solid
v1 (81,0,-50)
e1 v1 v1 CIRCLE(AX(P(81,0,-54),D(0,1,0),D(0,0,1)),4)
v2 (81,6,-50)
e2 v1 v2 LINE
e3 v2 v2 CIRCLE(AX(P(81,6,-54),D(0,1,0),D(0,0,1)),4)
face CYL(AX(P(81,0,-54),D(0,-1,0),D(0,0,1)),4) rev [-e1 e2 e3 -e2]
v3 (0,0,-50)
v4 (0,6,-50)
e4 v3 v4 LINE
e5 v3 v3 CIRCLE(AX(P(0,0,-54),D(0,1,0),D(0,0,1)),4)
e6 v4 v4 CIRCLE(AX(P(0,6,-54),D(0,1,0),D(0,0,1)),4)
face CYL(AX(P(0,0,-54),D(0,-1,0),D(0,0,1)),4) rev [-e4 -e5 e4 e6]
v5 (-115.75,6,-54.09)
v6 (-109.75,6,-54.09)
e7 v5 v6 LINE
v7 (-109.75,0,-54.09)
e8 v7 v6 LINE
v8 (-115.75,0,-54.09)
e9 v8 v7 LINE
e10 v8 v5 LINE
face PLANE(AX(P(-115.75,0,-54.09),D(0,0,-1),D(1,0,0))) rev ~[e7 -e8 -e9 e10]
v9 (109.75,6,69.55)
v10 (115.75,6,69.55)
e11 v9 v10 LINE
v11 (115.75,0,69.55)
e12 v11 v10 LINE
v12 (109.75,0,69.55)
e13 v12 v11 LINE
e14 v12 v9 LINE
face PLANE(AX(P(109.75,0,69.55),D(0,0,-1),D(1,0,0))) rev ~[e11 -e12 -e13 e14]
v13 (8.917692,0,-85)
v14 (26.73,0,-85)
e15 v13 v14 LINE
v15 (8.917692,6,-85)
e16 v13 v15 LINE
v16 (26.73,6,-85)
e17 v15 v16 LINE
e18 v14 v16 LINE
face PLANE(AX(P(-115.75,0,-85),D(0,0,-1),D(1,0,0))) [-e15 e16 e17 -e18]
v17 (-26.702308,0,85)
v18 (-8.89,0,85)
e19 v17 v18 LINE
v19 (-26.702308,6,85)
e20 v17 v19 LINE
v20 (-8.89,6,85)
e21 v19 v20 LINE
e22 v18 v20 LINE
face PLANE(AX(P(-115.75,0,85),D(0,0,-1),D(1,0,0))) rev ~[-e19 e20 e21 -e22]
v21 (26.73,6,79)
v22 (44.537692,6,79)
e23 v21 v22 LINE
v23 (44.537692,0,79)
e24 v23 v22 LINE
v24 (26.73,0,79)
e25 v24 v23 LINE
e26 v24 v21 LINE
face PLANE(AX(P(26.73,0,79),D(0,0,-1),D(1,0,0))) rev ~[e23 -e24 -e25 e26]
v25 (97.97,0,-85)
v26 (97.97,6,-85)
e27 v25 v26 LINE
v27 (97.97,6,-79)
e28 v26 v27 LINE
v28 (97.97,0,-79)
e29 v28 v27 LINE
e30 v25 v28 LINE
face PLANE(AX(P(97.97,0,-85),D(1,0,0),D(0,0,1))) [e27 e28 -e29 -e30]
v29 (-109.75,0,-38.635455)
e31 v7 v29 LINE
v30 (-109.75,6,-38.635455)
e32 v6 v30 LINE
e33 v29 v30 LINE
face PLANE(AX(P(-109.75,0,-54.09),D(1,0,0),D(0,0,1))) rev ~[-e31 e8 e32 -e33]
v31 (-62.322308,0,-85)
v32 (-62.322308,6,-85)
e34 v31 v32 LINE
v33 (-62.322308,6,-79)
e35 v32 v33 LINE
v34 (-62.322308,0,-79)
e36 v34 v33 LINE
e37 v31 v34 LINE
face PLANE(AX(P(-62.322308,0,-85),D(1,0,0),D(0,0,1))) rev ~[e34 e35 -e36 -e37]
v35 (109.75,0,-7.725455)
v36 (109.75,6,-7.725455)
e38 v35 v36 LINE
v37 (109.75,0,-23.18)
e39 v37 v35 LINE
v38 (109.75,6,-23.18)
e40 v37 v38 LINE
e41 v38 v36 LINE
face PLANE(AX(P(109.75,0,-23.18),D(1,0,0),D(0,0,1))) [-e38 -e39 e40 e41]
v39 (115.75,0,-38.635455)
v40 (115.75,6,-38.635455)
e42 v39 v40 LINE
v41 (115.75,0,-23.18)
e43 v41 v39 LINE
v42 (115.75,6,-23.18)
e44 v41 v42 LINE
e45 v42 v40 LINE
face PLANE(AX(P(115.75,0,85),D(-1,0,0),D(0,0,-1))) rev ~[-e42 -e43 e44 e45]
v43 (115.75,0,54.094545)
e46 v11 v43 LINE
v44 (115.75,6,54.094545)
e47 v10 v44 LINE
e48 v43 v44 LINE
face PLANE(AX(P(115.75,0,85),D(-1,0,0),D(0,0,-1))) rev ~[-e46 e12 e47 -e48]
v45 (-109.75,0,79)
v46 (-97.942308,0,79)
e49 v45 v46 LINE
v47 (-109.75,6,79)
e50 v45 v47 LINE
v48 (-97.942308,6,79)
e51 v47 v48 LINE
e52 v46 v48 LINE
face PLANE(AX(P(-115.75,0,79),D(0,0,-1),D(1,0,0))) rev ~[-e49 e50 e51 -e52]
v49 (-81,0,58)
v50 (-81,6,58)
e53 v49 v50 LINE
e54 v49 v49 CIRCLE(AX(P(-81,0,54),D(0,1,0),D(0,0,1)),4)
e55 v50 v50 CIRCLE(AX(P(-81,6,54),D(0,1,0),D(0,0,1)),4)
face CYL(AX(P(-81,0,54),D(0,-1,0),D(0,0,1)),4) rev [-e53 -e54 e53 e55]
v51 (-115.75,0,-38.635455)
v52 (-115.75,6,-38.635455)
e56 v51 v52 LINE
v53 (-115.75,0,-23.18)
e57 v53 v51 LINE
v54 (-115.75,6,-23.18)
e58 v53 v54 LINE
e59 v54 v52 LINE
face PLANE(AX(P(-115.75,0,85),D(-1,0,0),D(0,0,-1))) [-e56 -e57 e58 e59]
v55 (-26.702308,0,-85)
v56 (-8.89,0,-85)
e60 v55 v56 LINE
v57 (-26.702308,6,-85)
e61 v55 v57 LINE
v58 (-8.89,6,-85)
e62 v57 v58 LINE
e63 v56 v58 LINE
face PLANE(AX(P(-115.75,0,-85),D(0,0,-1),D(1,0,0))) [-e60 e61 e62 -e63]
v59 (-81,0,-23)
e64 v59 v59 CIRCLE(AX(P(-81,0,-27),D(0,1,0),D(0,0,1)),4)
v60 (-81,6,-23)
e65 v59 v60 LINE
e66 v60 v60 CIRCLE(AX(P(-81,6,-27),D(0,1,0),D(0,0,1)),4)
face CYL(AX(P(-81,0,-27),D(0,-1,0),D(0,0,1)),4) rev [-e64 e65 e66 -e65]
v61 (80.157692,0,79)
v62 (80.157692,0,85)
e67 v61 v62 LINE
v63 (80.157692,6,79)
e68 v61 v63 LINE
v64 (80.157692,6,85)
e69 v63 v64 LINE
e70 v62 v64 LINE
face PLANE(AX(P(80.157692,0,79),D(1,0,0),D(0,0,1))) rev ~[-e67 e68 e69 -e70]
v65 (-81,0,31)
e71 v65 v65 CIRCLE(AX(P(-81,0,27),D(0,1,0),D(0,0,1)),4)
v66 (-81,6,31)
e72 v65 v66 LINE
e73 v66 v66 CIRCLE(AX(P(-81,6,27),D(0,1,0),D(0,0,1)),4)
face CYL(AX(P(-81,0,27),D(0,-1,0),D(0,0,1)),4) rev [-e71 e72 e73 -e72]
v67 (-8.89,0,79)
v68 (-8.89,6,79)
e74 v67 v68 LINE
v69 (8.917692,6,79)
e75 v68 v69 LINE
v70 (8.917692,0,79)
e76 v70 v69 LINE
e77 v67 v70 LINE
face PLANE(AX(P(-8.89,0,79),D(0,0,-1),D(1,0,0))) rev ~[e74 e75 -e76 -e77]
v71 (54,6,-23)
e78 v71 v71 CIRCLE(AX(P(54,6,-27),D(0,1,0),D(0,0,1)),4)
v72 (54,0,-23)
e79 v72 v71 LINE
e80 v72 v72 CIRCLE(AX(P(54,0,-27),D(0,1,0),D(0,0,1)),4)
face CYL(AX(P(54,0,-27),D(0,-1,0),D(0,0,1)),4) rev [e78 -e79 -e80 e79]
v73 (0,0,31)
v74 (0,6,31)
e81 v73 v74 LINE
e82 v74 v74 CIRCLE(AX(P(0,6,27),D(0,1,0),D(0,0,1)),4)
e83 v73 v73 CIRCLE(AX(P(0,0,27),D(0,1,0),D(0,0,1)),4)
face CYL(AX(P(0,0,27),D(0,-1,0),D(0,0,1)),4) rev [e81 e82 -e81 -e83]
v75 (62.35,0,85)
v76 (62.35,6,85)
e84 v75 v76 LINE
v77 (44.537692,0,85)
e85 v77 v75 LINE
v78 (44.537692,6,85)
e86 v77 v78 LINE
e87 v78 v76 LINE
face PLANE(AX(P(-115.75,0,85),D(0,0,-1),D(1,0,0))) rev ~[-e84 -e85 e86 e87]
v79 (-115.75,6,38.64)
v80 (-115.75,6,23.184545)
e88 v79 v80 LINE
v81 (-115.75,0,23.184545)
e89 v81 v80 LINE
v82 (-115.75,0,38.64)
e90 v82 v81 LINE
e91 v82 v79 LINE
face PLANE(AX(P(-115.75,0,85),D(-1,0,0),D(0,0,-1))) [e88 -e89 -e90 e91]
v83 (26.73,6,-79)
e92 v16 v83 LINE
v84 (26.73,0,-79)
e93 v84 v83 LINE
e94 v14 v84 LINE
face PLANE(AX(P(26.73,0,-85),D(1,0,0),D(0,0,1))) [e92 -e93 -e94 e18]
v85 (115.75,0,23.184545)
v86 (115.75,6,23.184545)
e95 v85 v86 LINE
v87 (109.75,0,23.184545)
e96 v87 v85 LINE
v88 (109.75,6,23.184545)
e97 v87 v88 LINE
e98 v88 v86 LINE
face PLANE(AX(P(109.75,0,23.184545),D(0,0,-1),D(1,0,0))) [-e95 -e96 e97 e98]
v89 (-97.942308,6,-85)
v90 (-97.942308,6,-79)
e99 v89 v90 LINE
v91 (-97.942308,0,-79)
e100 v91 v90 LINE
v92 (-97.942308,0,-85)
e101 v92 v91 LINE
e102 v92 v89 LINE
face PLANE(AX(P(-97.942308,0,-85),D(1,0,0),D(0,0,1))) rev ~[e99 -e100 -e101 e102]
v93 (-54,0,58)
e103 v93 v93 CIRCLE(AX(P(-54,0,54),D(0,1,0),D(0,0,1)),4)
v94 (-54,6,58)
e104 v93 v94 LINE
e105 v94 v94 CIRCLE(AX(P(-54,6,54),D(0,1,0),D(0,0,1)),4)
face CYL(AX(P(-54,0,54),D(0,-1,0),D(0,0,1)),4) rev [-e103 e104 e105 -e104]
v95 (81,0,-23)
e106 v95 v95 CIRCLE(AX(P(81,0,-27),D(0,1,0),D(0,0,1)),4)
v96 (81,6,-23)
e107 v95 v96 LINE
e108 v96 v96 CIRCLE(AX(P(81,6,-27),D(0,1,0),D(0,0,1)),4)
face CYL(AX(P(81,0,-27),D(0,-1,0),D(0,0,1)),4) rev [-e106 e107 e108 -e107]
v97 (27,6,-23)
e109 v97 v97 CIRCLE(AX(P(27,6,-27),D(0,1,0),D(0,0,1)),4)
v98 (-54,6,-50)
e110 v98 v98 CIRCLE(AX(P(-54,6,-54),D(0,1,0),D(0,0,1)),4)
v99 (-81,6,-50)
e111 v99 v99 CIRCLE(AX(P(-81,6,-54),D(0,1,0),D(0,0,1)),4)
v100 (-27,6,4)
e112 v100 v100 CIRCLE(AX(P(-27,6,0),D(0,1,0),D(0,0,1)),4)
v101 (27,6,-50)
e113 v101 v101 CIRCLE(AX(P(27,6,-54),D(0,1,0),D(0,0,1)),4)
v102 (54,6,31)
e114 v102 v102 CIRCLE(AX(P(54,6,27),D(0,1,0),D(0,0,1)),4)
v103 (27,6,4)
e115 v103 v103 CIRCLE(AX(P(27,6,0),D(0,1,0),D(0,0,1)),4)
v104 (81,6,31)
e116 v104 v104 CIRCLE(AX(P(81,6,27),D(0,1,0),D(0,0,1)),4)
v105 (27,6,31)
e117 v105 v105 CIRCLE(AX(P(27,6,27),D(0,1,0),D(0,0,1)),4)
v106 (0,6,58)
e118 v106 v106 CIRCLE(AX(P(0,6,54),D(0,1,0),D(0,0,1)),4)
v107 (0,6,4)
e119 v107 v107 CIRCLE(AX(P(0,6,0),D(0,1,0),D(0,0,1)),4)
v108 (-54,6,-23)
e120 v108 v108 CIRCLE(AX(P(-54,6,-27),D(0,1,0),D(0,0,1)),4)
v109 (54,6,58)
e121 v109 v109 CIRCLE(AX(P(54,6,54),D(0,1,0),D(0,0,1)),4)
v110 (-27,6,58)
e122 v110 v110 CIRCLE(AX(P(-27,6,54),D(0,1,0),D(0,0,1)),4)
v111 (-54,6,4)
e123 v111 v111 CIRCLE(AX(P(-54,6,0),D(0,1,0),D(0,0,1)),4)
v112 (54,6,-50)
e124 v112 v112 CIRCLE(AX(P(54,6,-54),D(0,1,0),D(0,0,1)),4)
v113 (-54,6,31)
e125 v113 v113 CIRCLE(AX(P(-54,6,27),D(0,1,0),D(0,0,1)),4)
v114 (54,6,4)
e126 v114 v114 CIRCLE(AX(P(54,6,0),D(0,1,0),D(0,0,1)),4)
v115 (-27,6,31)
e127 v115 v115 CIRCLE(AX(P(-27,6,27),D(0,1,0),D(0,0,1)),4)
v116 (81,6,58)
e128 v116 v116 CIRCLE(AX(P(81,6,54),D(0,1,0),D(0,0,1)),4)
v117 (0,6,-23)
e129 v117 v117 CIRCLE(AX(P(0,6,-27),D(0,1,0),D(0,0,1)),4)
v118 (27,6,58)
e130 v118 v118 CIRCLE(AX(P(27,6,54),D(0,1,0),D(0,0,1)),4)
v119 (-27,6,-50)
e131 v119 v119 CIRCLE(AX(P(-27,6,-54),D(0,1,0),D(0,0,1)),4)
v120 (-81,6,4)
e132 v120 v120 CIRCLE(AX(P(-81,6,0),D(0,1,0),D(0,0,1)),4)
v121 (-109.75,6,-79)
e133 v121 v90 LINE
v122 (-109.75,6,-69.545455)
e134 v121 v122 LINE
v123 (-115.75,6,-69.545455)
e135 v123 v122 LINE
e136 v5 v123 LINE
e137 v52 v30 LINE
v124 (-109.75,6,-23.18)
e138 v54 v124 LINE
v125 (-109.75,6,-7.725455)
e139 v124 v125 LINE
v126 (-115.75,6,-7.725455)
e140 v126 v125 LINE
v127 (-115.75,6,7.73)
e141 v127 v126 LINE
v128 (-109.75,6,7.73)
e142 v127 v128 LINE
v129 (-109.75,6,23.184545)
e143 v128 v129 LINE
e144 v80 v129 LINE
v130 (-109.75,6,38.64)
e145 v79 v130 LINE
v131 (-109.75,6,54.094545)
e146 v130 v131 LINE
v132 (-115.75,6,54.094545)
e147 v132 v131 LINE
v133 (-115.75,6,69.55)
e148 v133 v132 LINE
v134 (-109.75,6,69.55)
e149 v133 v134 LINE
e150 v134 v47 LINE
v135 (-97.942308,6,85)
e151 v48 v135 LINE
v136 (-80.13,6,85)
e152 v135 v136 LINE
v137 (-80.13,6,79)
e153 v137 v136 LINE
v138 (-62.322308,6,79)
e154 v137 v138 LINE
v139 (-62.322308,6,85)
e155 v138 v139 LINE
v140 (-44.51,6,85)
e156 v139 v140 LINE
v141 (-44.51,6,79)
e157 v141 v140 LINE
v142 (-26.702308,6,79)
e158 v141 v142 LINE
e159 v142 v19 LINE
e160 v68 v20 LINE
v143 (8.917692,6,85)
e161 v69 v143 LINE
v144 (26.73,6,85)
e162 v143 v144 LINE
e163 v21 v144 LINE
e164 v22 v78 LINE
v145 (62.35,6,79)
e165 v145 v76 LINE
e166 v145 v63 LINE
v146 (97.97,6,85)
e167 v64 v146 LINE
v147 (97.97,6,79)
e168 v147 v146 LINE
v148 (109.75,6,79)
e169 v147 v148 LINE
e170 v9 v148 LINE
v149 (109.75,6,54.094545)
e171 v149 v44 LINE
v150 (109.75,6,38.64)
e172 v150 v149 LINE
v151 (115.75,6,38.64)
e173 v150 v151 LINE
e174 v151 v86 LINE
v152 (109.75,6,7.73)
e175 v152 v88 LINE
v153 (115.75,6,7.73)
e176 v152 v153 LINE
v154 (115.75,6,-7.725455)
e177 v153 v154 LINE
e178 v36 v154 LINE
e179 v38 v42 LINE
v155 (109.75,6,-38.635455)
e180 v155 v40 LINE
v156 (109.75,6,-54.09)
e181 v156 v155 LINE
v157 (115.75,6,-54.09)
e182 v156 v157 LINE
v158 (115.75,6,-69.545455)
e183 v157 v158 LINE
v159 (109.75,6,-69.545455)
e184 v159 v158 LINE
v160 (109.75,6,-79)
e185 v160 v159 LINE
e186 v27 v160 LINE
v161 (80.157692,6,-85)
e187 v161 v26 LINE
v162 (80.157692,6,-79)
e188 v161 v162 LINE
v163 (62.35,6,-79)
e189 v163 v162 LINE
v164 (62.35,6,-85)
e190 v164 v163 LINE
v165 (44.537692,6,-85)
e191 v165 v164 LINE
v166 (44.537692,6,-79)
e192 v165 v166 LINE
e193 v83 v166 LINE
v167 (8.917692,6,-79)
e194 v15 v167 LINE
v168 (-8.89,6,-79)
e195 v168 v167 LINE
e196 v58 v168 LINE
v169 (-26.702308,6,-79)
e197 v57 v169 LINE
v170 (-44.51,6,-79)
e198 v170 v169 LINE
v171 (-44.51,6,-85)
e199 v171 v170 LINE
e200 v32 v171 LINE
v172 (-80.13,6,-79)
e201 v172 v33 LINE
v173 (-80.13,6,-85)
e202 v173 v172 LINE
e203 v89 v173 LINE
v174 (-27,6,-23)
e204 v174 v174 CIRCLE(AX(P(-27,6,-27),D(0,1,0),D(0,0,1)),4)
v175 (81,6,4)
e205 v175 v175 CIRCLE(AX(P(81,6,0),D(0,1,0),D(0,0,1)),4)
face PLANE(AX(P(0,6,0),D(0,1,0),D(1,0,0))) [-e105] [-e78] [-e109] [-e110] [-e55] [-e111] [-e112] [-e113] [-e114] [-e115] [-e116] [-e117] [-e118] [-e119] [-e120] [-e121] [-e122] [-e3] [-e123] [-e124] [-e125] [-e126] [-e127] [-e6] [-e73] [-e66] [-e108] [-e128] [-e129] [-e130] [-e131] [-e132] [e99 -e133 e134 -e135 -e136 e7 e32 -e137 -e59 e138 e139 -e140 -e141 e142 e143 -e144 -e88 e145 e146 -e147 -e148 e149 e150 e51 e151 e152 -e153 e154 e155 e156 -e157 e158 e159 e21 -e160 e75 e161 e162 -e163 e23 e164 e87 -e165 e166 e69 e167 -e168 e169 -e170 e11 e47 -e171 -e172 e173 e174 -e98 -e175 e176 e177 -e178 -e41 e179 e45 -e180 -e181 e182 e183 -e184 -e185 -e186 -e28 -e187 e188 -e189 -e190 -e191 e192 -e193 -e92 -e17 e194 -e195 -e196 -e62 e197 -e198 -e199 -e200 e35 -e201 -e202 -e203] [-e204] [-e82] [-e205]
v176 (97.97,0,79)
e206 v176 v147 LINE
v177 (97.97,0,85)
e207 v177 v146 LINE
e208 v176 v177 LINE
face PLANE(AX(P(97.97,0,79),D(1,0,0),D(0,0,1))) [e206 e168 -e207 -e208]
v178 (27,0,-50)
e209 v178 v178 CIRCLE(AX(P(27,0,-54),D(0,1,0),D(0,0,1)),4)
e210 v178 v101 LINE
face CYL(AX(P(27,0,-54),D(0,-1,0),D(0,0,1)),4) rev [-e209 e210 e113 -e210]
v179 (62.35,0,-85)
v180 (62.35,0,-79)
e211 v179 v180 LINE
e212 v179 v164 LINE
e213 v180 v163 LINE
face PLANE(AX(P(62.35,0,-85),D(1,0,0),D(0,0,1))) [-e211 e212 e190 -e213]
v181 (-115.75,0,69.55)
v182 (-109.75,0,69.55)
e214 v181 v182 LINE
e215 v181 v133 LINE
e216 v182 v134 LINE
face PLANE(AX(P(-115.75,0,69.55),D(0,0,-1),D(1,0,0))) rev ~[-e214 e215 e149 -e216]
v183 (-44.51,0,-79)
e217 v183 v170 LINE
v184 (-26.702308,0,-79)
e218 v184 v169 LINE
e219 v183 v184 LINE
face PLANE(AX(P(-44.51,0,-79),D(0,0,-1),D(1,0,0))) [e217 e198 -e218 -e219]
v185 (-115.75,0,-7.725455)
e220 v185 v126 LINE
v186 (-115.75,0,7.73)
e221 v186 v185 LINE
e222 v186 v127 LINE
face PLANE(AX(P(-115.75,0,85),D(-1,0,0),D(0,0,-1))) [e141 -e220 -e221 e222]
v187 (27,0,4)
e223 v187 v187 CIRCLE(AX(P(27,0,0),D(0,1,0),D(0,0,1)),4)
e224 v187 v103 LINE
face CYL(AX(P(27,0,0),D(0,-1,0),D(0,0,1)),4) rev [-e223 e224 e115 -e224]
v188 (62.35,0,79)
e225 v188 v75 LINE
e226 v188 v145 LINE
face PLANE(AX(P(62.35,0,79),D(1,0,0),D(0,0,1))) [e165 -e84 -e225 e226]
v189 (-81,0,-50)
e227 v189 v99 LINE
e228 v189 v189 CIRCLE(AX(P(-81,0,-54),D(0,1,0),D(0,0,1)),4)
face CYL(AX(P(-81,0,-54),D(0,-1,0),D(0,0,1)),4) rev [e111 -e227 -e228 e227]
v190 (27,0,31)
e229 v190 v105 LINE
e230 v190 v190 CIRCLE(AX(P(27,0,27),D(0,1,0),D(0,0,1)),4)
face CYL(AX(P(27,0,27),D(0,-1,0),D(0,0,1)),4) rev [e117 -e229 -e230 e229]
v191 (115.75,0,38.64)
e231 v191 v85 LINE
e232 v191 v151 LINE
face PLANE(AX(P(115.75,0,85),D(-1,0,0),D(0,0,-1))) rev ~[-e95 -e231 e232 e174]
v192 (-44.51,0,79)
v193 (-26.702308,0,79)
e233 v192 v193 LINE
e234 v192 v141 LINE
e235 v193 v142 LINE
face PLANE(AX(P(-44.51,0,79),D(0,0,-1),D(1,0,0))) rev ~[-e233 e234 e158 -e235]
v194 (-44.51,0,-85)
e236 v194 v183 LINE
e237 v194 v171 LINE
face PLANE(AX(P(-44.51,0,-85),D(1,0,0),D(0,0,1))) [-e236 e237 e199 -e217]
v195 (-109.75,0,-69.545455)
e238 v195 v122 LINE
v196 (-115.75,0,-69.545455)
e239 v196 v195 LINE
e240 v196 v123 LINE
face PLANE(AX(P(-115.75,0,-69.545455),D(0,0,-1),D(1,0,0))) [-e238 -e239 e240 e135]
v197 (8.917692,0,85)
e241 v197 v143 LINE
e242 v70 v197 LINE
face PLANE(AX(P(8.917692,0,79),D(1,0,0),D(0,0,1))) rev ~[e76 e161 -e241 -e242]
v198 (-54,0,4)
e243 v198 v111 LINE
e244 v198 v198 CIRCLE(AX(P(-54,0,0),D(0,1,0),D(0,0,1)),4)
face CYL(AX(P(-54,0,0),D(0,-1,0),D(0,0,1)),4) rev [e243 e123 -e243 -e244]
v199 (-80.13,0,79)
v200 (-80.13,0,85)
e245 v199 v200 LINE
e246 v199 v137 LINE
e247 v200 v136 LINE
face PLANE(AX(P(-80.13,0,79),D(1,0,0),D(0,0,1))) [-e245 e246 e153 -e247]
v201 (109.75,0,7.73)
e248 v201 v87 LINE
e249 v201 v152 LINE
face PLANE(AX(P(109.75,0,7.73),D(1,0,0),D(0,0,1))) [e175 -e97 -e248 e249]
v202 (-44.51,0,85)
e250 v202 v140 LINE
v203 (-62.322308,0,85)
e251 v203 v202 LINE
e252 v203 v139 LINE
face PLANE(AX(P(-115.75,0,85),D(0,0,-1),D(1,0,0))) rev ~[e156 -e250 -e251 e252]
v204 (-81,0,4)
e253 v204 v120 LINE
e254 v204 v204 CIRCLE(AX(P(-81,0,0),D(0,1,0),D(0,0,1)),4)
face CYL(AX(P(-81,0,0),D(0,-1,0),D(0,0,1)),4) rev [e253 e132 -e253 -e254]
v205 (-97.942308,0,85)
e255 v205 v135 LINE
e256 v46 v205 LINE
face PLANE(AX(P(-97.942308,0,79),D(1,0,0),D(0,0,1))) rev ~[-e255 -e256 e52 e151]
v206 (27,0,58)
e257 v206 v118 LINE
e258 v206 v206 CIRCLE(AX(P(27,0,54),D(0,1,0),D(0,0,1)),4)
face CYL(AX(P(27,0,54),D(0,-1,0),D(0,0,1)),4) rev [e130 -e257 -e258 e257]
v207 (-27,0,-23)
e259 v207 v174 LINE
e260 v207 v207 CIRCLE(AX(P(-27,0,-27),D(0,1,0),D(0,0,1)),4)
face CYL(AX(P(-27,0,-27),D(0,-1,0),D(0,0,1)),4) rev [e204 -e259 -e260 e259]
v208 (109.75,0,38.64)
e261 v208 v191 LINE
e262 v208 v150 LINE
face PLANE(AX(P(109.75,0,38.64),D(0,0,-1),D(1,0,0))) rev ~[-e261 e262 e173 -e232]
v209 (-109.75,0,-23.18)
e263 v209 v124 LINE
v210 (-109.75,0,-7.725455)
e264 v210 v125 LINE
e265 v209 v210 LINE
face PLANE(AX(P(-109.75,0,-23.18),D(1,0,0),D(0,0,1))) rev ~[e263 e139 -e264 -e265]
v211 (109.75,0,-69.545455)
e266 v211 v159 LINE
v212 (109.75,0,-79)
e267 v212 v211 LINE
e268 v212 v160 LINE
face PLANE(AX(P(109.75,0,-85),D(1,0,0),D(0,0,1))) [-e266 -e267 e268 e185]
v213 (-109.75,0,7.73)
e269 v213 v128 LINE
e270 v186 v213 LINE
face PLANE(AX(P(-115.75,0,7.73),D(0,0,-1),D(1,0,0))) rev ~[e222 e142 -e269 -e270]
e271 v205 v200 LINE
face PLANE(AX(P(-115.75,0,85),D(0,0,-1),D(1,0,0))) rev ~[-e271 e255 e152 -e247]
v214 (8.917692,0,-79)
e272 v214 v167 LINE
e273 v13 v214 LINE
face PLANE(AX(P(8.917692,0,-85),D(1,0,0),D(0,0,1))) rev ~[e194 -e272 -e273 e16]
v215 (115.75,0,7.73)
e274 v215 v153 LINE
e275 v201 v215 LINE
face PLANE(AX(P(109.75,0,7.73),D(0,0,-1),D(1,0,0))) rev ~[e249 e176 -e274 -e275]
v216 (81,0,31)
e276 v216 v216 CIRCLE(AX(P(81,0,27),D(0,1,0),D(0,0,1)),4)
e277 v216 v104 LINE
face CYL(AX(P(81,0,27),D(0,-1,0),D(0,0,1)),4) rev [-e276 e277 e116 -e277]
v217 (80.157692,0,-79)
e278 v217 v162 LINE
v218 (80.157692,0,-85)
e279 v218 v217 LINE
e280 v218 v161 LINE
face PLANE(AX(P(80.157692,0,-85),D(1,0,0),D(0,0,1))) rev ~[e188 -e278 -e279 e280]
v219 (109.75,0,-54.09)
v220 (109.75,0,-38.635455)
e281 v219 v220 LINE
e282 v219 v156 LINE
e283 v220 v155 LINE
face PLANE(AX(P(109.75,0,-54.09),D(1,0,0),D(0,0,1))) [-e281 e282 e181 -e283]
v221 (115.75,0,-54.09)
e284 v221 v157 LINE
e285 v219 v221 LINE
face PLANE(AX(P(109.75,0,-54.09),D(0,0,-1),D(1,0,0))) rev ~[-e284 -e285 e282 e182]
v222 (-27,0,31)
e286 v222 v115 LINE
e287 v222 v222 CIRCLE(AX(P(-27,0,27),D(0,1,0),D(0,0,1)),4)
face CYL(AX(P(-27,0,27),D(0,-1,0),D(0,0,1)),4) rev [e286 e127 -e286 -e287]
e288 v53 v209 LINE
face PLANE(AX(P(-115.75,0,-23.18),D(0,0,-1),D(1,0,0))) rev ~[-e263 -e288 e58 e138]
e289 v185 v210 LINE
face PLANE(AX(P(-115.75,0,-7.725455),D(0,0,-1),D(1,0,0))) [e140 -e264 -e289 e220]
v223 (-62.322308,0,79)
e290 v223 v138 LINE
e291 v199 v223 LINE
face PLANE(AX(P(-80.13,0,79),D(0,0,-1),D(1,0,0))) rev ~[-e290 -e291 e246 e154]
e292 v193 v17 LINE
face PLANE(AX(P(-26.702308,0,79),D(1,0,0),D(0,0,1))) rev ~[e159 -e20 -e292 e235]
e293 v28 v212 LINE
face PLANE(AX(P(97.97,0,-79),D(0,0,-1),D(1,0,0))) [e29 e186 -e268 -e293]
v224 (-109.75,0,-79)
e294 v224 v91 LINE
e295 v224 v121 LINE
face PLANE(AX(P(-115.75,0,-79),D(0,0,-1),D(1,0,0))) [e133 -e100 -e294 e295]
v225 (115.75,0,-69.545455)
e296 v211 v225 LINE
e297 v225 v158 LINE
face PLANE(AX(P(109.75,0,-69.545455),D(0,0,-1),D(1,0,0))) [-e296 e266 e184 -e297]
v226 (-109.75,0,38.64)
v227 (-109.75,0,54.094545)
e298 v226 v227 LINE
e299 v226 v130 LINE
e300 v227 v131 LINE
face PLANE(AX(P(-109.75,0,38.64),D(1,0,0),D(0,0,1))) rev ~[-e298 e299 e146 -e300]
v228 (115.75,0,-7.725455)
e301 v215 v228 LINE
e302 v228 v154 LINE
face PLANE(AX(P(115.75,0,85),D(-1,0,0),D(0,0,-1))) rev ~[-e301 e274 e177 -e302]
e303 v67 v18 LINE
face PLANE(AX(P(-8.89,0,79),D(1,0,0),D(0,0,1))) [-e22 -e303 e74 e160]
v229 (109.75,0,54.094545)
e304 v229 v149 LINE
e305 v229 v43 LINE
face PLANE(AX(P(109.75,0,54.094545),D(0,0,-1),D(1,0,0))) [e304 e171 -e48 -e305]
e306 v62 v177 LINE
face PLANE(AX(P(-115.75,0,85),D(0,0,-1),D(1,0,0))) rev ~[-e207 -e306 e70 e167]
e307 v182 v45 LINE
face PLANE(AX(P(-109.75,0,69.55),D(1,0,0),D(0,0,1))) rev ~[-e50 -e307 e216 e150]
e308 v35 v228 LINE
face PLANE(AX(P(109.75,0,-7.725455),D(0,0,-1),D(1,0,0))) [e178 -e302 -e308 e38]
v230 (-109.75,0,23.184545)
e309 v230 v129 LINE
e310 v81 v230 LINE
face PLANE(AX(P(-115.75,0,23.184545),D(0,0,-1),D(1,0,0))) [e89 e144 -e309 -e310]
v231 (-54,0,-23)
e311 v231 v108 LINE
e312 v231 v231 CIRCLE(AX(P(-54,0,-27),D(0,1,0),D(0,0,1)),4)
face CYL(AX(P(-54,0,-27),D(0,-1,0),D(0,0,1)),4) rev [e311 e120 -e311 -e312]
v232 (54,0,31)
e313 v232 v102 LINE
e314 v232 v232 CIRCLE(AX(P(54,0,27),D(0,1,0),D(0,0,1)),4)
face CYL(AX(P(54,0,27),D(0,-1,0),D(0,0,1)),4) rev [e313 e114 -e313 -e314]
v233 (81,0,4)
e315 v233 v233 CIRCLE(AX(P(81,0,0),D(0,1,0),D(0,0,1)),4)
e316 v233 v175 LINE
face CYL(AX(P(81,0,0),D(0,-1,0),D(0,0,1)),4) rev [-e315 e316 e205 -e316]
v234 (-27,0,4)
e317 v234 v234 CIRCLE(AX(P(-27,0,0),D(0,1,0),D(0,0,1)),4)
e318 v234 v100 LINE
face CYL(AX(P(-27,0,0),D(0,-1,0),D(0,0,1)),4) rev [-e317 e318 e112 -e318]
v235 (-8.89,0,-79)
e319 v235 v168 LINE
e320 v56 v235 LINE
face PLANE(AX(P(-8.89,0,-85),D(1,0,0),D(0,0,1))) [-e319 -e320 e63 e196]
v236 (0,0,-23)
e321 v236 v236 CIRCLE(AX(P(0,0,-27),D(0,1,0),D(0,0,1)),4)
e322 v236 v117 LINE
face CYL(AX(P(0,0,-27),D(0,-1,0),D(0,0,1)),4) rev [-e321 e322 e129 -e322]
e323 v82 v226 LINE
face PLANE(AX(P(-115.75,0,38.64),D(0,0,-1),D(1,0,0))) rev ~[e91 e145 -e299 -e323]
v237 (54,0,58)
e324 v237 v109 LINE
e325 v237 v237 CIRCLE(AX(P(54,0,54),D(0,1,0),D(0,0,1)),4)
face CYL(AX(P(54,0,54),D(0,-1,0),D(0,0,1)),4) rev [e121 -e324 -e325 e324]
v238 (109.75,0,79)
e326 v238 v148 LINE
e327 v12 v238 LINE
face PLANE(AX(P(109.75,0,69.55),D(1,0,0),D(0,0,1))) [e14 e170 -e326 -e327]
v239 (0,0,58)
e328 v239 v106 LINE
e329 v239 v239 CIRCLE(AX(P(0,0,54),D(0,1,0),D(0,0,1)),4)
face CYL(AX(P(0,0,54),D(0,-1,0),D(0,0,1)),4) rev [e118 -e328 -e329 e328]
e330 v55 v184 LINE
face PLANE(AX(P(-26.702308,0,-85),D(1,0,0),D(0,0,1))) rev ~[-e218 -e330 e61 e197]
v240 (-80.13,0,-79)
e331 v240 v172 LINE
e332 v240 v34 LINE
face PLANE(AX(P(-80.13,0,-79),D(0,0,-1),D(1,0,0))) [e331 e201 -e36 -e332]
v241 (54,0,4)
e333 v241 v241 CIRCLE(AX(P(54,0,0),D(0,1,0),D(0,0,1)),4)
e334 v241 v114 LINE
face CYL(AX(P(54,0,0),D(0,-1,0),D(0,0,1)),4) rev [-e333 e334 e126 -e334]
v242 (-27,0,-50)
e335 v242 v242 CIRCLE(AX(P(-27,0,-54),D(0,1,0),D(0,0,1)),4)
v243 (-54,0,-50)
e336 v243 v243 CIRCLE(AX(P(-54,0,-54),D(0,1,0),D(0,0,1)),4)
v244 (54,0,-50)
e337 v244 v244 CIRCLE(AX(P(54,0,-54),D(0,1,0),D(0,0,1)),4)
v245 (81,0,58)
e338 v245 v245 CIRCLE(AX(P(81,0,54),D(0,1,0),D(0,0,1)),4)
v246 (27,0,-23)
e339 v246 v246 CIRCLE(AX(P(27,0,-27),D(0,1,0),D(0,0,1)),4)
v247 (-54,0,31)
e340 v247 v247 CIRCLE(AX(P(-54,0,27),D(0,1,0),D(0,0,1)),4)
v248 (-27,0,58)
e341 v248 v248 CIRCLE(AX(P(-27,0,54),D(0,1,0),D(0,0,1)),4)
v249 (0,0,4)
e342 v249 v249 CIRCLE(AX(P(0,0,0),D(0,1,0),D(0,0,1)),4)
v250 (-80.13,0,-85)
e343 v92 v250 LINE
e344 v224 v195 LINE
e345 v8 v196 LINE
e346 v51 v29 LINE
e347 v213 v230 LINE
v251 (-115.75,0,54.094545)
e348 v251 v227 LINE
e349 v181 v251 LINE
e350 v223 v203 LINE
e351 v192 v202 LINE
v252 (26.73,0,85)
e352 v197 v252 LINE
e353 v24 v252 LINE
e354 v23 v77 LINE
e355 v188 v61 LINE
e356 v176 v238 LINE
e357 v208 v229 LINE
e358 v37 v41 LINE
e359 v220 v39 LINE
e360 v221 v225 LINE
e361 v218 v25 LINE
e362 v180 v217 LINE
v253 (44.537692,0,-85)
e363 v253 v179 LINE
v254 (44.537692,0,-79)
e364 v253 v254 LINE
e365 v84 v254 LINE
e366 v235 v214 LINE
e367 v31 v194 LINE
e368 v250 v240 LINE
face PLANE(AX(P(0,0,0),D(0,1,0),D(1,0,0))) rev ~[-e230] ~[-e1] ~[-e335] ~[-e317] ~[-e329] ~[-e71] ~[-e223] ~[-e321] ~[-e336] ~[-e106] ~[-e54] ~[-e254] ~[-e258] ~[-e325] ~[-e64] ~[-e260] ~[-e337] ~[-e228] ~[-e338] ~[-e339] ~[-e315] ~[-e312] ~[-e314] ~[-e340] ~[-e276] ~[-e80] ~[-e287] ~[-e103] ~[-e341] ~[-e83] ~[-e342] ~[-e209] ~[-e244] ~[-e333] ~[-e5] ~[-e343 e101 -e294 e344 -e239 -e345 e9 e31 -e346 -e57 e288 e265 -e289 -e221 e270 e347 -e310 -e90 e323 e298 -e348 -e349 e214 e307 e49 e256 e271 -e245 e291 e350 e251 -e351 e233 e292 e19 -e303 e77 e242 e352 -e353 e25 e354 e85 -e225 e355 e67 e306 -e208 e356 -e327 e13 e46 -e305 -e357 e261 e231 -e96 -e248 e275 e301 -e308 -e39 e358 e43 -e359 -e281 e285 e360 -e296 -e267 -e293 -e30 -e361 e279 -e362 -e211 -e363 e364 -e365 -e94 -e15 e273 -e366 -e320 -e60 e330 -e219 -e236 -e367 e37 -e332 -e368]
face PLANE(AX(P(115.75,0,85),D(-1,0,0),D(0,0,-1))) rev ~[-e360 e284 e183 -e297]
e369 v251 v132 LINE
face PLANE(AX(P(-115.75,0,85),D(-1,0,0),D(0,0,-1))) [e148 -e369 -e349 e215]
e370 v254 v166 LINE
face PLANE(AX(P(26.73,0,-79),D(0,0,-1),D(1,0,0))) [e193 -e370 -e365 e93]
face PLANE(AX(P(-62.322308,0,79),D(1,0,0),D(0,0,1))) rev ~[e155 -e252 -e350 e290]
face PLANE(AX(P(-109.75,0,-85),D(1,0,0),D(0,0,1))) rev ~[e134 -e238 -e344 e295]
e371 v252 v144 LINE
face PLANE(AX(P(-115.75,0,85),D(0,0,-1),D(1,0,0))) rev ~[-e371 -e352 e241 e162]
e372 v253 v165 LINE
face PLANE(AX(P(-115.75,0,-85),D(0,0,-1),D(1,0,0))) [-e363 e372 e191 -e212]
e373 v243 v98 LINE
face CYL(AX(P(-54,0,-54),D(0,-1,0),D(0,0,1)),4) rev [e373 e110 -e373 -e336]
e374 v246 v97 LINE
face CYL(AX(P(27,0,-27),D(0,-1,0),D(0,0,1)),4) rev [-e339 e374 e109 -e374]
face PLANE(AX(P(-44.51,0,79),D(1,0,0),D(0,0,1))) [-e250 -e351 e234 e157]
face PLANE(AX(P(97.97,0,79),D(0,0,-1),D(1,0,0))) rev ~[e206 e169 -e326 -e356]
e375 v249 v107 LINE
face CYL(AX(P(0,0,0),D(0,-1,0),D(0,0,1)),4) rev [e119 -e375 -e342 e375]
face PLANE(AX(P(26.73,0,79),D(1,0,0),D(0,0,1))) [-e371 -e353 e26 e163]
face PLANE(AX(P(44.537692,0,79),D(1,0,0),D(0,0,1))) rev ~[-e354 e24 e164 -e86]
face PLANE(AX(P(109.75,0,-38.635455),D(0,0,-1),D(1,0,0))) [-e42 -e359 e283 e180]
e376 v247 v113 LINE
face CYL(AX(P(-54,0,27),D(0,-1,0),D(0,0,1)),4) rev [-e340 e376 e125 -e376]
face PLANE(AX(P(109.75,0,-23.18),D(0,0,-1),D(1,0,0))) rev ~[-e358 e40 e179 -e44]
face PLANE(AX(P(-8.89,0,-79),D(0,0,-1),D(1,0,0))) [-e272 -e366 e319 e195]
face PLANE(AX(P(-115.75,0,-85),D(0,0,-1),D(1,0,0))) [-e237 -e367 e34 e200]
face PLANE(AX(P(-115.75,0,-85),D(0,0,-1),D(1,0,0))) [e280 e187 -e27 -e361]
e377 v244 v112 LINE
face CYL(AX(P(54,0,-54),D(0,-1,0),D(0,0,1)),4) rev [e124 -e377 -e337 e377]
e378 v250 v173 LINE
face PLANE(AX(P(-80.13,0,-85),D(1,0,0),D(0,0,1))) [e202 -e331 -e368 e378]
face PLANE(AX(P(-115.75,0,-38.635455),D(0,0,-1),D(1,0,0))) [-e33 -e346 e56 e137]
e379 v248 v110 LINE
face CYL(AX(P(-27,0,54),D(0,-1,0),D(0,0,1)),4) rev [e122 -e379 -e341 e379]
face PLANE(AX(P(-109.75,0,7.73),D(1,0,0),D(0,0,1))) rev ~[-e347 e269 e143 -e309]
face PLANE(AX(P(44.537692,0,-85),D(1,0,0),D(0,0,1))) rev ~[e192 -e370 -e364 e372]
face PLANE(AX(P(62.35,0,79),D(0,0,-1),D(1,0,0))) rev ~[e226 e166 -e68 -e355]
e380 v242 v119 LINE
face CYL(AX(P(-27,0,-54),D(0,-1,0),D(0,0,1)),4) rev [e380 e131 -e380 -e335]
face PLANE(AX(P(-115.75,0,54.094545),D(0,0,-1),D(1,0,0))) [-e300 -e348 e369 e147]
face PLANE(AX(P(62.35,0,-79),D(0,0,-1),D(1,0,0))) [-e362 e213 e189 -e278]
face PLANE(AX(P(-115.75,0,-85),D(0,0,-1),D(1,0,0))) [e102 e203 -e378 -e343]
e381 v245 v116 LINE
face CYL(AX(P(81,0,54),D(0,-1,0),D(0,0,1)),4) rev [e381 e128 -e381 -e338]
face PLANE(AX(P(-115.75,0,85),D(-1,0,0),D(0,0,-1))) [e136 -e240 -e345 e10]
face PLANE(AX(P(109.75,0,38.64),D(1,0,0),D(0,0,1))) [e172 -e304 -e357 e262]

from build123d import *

# Parameters (mm, degrees)
ESBO_O1_W                = 231.5
ESBO_O1_H                = 170
ESBO_O1_R                = 4
RESSALTO_EXTRUS_O1_DEPTH = 6
ESBO_O6_W                = 17.807692308
ESBO_O6_H                = 6
ESBO_O6_W_2              = 17.78
CORTE_EXTRUS_O1_DEPTH    = 6
CORTE_EXTRUS_O2_REACH    = 145.733
ESBO_O7_W                = 6
ESBO_O7_H                = 15.454545455


with BuildPart() as part:
    # Esboço1 → Ressalto-extrusão1 (new body)
    with BuildSketch(Plane(origin=(0, 0, 0), x_dir=(1, 0, 0), z_dir=(0, 1, 0))):
        Rectangle(ESBO_O1_W, ESBO_O1_H)
        with Locations(Location((-81, 54, 0), (0, 0, 270))):
            Circle(ESBO_O1_R, mode=Mode.SUBTRACT)
        with Locations(Location((-54, 54, 0), (0, 0, 270))):
            Circle(ESBO_O1_R, mode=Mode.SUBTRACT)
        with Locations(Location((-27, 54, 0), (0, 0, 270))):
            Circle(ESBO_O1_R, mode=Mode.SUBTRACT)
        with Locations(Location((0, 54, 0), (0, 0, 270))):
            Circle(ESBO_O1_R, mode=Mode.SUBTRACT)
        with Locations(Location((27, 54, 0), (0, 0, 270))):
            Circle(ESBO_O1_R, mode=Mode.SUBTRACT)
        with Locations(Location((54, 54, 0), (0, 0, 270))):
            Circle(ESBO_O1_R, mode=Mode.SUBTRACT)
        with Locations(Location((81, 54, 0), (0, 0, 270))):
            Circle(ESBO_O1_R, mode=Mode.SUBTRACT)
        with Locations(Location((-54, 27, 0), (0, 0, 270))):
            Circle(ESBO_O1_R, mode=Mode.SUBTRACT)
        with Locations(Location((-27, 27, 0), (0, 0, 270))):
            Circle(ESBO_O1_R, mode=Mode.SUBTRACT)
        with Locations(Location((0, 27, 0), (0, 0, 270))):
            Circle(ESBO_O1_R, mode=Mode.SUBTRACT)
        with Locations(Location((27, 27, 0), (0, 0, 270))):
            Circle(ESBO_O1_R, mode=Mode.SUBTRACT)
        with Locations(Location((54, 27, 0), (0, 0, 270))):
            Circle(ESBO_O1_R, mode=Mode.SUBTRACT)
        with Locations(Location((81, 27, 0), (0, 0, 270))):
            Circle(ESBO_O1_R, mode=Mode.SUBTRACT)
        with Locations(Location((-54, 0, 0), (0, 0, 270))):
            Circle(ESBO_O1_R, mode=Mode.SUBTRACT)
        with Locations(Location((-27, 0, 0), (0, 0, 270))):
            Circle(ESBO_O1_R, mode=Mode.SUBTRACT)
        with Locations(Location((0, 0, 0), (0, 0, 270))):
            Circle(ESBO_O1_R, mode=Mode.SUBTRACT)
        with Locations(Location((27, 0, 0), (0, 0, 270))):
            Circle(ESBO_O1_R, mode=Mode.SUBTRACT)
        with Locations(Location((54, 0, 0), (0, 0, 270))):
            Circle(ESBO_O1_R, mode=Mode.SUBTRACT)
        with Locations(Location((81, 0, 0), (0, 0, 270))):
            Circle(ESBO_O1_R, mode=Mode.SUBTRACT)
        with Locations(Location((-54, -27, 0), (0, 0, 270))):
            Circle(ESBO_O1_R, mode=Mode.SUBTRACT)
        with Locations(Location((-27, -27, 0), (0, 0, 270))):
            Circle(ESBO_O1_R, mode=Mode.SUBTRACT)
        with Locations(Location((0, -27, 0), (0, 0, 270))):
            Circle(ESBO_O1_R, mode=Mode.SUBTRACT)
        with Locations(Location((27, -27, 0), (0, 0, 270))):
            Circle(ESBO_O1_R, mode=Mode.SUBTRACT)
        with Locations(Location((54, -27, 0), (0, 0, 270))):
            Circle(ESBO_O1_R, mode=Mode.SUBTRACT)
        with Locations(Location((81, -27, 0), (0, 0, 270))):
            Circle(ESBO_O1_R, mode=Mode.SUBTRACT)
        with Locations(Location((-54, -54, 0), (0, 0, 270))):
            Circle(ESBO_O1_R, mode=Mode.SUBTRACT)
        with Locations(Location((-27, -54, 0), (0, 0, 270))):
            Circle(ESBO_O1_R, mode=Mode.SUBTRACT)
        with Locations(Location((0, -54, 0), (0, 0, 270))):
            Circle(ESBO_O1_R, mode=Mode.SUBTRACT)
        with Locations(Location((27, -54, 0), (0, 0, 270))):
            Circle(ESBO_O1_R, mode=Mode.SUBTRACT)
        with Locations(Location((54, -54, 0), (0, 0, 270))):
            Circle(ESBO_O1_R, mode=Mode.SUBTRACT)
        with Locations(Location((81, -54, 0), (0, 0, 270))):
            Circle(ESBO_O1_R, mode=Mode.SUBTRACT)
        with Locations(Location((-81, 27, 0), (0, 0, 270))):
            Circle(ESBO_O1_R, mode=Mode.SUBTRACT)
        with Locations(Location((-81, 0, 0), (0, 0, 270))):
            Circle(ESBO_O1_R, mode=Mode.SUBTRACT)
        with Locations(Location((-81, -27, 0), (0, 0, 270))):
            Circle(ESBO_O1_R, mode=Mode.SUBTRACT)
        with Locations(Location((-81, -54, 0), (0, 0, 270))):
            Circle(ESBO_O1_R, mode=Mode.SUBTRACT)
    extrude(amount=RESSALTO_EXTRUS_O1_DEPTH)

    # Esboço6 → Corte-extrusão1 (cut)
    with BuildSketch(Plane.XZ):
        with Locations((-106.846153846, 82)):
            Rectangle(ESBO_O6_W, ESBO_O6_H)
        with Locations((-71.226153846, 82)):
            Rectangle(ESBO_O6_W, ESBO_O6_H)
        with Locations((-35.606153846, 82)):
            Rectangle(ESBO_O6_W, ESBO_O6_H)
        with Locations((0.013846154, 82)):
            Rectangle(ESBO_O6_W, ESBO_O6_H)
        with Locations((35.633846154, 82)):
            Rectangle(ESBO_O6_W, ESBO_O6_H)
        with Locations((71.253846154, 82)):
            Rectangle(ESBO_O6_W, ESBO_O6_H)
        with Locations((106.86, 82)):
            Rectangle(ESBO_O6_W_2, ESBO_O6_H)
        with Locations((106.86, -82)):
            Rectangle(ESBO_O6_W_2, ESBO_O6_H)
        with Locations((71.253846154, -82)):
            Rectangle(ESBO_O6_W, ESBO_O6_H)
        with Locations((35.633846154, -82)):
            Rectangle(ESBO_O6_W, ESBO_O6_H)
        with Locations((0.013846154, -82)):
            Rectangle(ESBO_O6_W, ESBO_O6_H)
        with Locations((-35.606153846, -82)):
            Rectangle(ESBO_O6_W, ESBO_O6_H)
        with Locations((-71.226153846, -82)):
            Rectangle(ESBO_O6_W, ESBO_O6_H)
        with Locations((-106.846153846, -82)):
            Rectangle(ESBO_O6_W, ESBO_O6_H)
    extrude(amount=-CORTE_EXTRUS_O1_DEPTH, mode=Mode.SUBTRACT)

    # Esboço7 → Corte-extrusão2 (cut, up to next)
    with BuildSketch(Plane.XZ, mode=Mode.PRIVATE) as corte_extrus_o2_sk1:
        with Locations((112.75, -77.272727272)):
            Rectangle(ESBO_O7_W, ESBO_O7_H)
    corte_extrus_o2_tool1 = extrude(corte_extrus_o2_sk1.sketch, amount=-CORTE_EXTRUS_O2_REACH, mode=Mode.PRIVATE) & part.part
    # Esboço7 → Corte-extrusão2 (cut, up to next)
    with BuildSketch(Plane.XZ, mode=Mode.PRIVATE) as corte_extrus_o2_sk2:
        with Locations((-112.75, -77.272727272)):
            Rectangle(ESBO_O7_W, ESBO_O7_H)
    corte_extrus_o2_tool2 = extrude(corte_extrus_o2_sk2.sketch, amount=-CORTE_EXTRUS_O2_REACH, mode=Mode.PRIVATE) & part.part
    # Esboço7 → Corte-extrusão2 (cut, up to next)
    with BuildSketch(Plane.XZ, mode=Mode.PRIVATE) as corte_extrus_o2_sk3:
        with Locations((112.75, -46.362727273)):
            Rectangle(ESBO_O7_W, ESBO_O7_H)
    corte_extrus_o2_tool3 = extrude(corte_extrus_o2_sk3.sketch, amount=-CORTE_EXTRUS_O2_REACH, mode=Mode.PRIVATE) & part.part
    # Esboço7 → Corte-extrusão2 (cut, up to next)
    with BuildSketch(Plane.XZ, mode=Mode.PRIVATE) as corte_extrus_o2_sk4:
        with Locations((112.75, -15.452727273)):
            Rectangle(ESBO_O7_W, ESBO_O7_H)
    corte_extrus_o2_tool4 = extrude(corte_extrus_o2_sk4.sketch, amount=-CORTE_EXTRUS_O2_REACH, mode=Mode.PRIVATE) & part.part
    # Esboço7 → Corte-extrusão2 (cut, up to next)
    with BuildSketch(Plane.XZ, mode=Mode.PRIVATE) as corte_extrus_o2_sk5:
        with Locations((112.75, 15.457272728)):
            Rectangle(ESBO_O7_W, ESBO_O7_H)
    corte_extrus_o2_tool5 = extrude(corte_extrus_o2_sk5.sketch, amount=-CORTE_EXTRUS_O2_REACH, mode=Mode.PRIVATE) & part.part
    # Esboço7 → Corte-extrusão2 (cut, up to next)
    with BuildSketch(Plane.XZ, mode=Mode.PRIVATE) as corte_extrus_o2_sk6:
        with Locations((112.75, 46.367272728)):
            Rectangle(ESBO_O7_W, ESBO_O7_H)
    corte_extrus_o2_tool6 = extrude(corte_extrus_o2_sk6.sketch, amount=-CORTE_EXTRUS_O2_REACH, mode=Mode.PRIVATE) & part.part
    # Esboço7 → Corte-extrusão2 (cut, up to next)
    with BuildSketch(Plane.XZ, mode=Mode.PRIVATE) as corte_extrus_o2_sk7:
        with Locations((112.75, 77.277272728)):
            Rectangle(ESBO_O7_W, ESBO_O7_H)
    corte_extrus_o2_tool7 = extrude(corte_extrus_o2_sk7.sketch, amount=-CORTE_EXTRUS_O2_REACH, mode=Mode.PRIVATE) & part.part
    # Esboço7 → Corte-extrusão2 (cut, up to next)
    with BuildSketch(Plane.XZ, mode=Mode.PRIVATE) as corte_extrus_o2_sk8:
        with Locations((-112.75, -46.362727273)):
            Rectangle(ESBO_O7_W, ESBO_O7_H)
    corte_extrus_o2_tool8 = extrude(corte_extrus_o2_sk8.sketch, amount=-CORTE_EXTRUS_O2_REACH, mode=Mode.PRIVATE) & part.part
    # Esboço7 → Corte-extrusão2 (cut, up to next)
    with BuildSketch(Plane.XZ, mode=Mode.PRIVATE) as corte_extrus_o2_sk9:
        with Locations((-112.75, -15.452727273)):
            Rectangle(ESBO_O7_W, ESBO_O7_H)
    corte_extrus_o2_tool9 = extrude(corte_extrus_o2_sk9.sketch, amount=-CORTE_EXTRUS_O2_REACH, mode=Mode.PRIVATE) & part.part
    # Esboço7 → Corte-extrusão2 (cut, up to next)
    with BuildSketch(Plane.XZ, mode=Mode.PRIVATE) as corte_extrus_o2_sk10:
        with Locations((-112.75, 15.457272728)):
            Rectangle(ESBO_O7_W, ESBO_O7_H)
    corte_extrus_o2_tool10 = extrude(corte_extrus_o2_sk10.sketch, amount=-CORTE_EXTRUS_O2_REACH, mode=Mode.PRIVATE) & part.part
    # Esboço7 → Corte-extrusão2 (cut, up to next)
    with BuildSketch(Plane.XZ, mode=Mode.PRIVATE) as corte_extrus_o2_sk11:
        with Locations((-112.75, 46.367272728)):
            Rectangle(ESBO_O7_W, ESBO_O7_H)
    corte_extrus_o2_tool11 = extrude(corte_extrus_o2_sk11.sketch, amount=-CORTE_EXTRUS_O2_REACH, mode=Mode.PRIVATE) & part.part
    # Esboço7 → Corte-extrusão2 (cut, up to next)
    with BuildSketch(Plane.XZ, mode=Mode.PRIVATE) as corte_extrus_o2_sk12:
        with Locations((-112.75, 77.277272728)):
            Rectangle(ESBO_O7_W, ESBO_O7_H)
    corte_extrus_o2_tool12 = extrude(corte_extrus_o2_sk12.sketch, amount=-CORTE_EXTRUS_O2_REACH, mode=Mode.PRIVATE) & part.part
    add(corte_extrus_o2_tool1.solids().sort_by_distance((112.75, 0, -77.272727))[0], mode=Mode.SUBTRACT)
    add(corte_extrus_o2_tool2.solids().sort_by_distance((-112.75, 0, -77.272727))[0], mode=Mode.SUBTRACT)
    add(corte_extrus_o2_tool3.solids().sort_by_distance((112.75, 0, -46.362727))[0], mode=Mode.SUBTRACT)
    add(corte_extrus_o2_tool4.solids().sort_by_distance((112.75, 0, -15.452727))[0], mode=Mode.SUBTRACT)
    add(corte_extrus_o2_tool5.solids().sort_by_distance((112.75, 0, 15.457273))[0], mode=Mode.SUBTRACT)
    add(corte_extrus_o2_tool6.solids().sort_by_distance((112.75, 0, 46.367273))[0], mode=Mode.SUBTRACT)
    add(corte_extrus_o2_tool7.solids().sort_by_distance((112.75, 0, 77.277273))[0], mode=Mode.SUBTRACT)
    add(corte_extrus_o2_tool8.solids().sort_by_distance((-112.75, 0, -46.362727))[0], mode=Mode.SUBTRACT)
    add(corte_extrus_o2_tool9.solids().sort_by_distance((-112.75, 0, -15.452727))[0], mode=Mode.SUBTRACT)
    add(corte_extrus_o2_tool10.solids().sort_by_distance((-112.75, 0, 15.457273))[0], mode=Mode.SUBTRACT)
    add(corte_extrus_o2_tool11.solids().sort_by_distance((-112.75, 0, 46.367273))[0], mode=Mode.SUBTRACT)
    add(corte_extrus_o2_tool12.solids().sort_by_distance((-112.75, 0, 77.277273))[0], mode=Mode.SUBTRACT)


solid = part.part
